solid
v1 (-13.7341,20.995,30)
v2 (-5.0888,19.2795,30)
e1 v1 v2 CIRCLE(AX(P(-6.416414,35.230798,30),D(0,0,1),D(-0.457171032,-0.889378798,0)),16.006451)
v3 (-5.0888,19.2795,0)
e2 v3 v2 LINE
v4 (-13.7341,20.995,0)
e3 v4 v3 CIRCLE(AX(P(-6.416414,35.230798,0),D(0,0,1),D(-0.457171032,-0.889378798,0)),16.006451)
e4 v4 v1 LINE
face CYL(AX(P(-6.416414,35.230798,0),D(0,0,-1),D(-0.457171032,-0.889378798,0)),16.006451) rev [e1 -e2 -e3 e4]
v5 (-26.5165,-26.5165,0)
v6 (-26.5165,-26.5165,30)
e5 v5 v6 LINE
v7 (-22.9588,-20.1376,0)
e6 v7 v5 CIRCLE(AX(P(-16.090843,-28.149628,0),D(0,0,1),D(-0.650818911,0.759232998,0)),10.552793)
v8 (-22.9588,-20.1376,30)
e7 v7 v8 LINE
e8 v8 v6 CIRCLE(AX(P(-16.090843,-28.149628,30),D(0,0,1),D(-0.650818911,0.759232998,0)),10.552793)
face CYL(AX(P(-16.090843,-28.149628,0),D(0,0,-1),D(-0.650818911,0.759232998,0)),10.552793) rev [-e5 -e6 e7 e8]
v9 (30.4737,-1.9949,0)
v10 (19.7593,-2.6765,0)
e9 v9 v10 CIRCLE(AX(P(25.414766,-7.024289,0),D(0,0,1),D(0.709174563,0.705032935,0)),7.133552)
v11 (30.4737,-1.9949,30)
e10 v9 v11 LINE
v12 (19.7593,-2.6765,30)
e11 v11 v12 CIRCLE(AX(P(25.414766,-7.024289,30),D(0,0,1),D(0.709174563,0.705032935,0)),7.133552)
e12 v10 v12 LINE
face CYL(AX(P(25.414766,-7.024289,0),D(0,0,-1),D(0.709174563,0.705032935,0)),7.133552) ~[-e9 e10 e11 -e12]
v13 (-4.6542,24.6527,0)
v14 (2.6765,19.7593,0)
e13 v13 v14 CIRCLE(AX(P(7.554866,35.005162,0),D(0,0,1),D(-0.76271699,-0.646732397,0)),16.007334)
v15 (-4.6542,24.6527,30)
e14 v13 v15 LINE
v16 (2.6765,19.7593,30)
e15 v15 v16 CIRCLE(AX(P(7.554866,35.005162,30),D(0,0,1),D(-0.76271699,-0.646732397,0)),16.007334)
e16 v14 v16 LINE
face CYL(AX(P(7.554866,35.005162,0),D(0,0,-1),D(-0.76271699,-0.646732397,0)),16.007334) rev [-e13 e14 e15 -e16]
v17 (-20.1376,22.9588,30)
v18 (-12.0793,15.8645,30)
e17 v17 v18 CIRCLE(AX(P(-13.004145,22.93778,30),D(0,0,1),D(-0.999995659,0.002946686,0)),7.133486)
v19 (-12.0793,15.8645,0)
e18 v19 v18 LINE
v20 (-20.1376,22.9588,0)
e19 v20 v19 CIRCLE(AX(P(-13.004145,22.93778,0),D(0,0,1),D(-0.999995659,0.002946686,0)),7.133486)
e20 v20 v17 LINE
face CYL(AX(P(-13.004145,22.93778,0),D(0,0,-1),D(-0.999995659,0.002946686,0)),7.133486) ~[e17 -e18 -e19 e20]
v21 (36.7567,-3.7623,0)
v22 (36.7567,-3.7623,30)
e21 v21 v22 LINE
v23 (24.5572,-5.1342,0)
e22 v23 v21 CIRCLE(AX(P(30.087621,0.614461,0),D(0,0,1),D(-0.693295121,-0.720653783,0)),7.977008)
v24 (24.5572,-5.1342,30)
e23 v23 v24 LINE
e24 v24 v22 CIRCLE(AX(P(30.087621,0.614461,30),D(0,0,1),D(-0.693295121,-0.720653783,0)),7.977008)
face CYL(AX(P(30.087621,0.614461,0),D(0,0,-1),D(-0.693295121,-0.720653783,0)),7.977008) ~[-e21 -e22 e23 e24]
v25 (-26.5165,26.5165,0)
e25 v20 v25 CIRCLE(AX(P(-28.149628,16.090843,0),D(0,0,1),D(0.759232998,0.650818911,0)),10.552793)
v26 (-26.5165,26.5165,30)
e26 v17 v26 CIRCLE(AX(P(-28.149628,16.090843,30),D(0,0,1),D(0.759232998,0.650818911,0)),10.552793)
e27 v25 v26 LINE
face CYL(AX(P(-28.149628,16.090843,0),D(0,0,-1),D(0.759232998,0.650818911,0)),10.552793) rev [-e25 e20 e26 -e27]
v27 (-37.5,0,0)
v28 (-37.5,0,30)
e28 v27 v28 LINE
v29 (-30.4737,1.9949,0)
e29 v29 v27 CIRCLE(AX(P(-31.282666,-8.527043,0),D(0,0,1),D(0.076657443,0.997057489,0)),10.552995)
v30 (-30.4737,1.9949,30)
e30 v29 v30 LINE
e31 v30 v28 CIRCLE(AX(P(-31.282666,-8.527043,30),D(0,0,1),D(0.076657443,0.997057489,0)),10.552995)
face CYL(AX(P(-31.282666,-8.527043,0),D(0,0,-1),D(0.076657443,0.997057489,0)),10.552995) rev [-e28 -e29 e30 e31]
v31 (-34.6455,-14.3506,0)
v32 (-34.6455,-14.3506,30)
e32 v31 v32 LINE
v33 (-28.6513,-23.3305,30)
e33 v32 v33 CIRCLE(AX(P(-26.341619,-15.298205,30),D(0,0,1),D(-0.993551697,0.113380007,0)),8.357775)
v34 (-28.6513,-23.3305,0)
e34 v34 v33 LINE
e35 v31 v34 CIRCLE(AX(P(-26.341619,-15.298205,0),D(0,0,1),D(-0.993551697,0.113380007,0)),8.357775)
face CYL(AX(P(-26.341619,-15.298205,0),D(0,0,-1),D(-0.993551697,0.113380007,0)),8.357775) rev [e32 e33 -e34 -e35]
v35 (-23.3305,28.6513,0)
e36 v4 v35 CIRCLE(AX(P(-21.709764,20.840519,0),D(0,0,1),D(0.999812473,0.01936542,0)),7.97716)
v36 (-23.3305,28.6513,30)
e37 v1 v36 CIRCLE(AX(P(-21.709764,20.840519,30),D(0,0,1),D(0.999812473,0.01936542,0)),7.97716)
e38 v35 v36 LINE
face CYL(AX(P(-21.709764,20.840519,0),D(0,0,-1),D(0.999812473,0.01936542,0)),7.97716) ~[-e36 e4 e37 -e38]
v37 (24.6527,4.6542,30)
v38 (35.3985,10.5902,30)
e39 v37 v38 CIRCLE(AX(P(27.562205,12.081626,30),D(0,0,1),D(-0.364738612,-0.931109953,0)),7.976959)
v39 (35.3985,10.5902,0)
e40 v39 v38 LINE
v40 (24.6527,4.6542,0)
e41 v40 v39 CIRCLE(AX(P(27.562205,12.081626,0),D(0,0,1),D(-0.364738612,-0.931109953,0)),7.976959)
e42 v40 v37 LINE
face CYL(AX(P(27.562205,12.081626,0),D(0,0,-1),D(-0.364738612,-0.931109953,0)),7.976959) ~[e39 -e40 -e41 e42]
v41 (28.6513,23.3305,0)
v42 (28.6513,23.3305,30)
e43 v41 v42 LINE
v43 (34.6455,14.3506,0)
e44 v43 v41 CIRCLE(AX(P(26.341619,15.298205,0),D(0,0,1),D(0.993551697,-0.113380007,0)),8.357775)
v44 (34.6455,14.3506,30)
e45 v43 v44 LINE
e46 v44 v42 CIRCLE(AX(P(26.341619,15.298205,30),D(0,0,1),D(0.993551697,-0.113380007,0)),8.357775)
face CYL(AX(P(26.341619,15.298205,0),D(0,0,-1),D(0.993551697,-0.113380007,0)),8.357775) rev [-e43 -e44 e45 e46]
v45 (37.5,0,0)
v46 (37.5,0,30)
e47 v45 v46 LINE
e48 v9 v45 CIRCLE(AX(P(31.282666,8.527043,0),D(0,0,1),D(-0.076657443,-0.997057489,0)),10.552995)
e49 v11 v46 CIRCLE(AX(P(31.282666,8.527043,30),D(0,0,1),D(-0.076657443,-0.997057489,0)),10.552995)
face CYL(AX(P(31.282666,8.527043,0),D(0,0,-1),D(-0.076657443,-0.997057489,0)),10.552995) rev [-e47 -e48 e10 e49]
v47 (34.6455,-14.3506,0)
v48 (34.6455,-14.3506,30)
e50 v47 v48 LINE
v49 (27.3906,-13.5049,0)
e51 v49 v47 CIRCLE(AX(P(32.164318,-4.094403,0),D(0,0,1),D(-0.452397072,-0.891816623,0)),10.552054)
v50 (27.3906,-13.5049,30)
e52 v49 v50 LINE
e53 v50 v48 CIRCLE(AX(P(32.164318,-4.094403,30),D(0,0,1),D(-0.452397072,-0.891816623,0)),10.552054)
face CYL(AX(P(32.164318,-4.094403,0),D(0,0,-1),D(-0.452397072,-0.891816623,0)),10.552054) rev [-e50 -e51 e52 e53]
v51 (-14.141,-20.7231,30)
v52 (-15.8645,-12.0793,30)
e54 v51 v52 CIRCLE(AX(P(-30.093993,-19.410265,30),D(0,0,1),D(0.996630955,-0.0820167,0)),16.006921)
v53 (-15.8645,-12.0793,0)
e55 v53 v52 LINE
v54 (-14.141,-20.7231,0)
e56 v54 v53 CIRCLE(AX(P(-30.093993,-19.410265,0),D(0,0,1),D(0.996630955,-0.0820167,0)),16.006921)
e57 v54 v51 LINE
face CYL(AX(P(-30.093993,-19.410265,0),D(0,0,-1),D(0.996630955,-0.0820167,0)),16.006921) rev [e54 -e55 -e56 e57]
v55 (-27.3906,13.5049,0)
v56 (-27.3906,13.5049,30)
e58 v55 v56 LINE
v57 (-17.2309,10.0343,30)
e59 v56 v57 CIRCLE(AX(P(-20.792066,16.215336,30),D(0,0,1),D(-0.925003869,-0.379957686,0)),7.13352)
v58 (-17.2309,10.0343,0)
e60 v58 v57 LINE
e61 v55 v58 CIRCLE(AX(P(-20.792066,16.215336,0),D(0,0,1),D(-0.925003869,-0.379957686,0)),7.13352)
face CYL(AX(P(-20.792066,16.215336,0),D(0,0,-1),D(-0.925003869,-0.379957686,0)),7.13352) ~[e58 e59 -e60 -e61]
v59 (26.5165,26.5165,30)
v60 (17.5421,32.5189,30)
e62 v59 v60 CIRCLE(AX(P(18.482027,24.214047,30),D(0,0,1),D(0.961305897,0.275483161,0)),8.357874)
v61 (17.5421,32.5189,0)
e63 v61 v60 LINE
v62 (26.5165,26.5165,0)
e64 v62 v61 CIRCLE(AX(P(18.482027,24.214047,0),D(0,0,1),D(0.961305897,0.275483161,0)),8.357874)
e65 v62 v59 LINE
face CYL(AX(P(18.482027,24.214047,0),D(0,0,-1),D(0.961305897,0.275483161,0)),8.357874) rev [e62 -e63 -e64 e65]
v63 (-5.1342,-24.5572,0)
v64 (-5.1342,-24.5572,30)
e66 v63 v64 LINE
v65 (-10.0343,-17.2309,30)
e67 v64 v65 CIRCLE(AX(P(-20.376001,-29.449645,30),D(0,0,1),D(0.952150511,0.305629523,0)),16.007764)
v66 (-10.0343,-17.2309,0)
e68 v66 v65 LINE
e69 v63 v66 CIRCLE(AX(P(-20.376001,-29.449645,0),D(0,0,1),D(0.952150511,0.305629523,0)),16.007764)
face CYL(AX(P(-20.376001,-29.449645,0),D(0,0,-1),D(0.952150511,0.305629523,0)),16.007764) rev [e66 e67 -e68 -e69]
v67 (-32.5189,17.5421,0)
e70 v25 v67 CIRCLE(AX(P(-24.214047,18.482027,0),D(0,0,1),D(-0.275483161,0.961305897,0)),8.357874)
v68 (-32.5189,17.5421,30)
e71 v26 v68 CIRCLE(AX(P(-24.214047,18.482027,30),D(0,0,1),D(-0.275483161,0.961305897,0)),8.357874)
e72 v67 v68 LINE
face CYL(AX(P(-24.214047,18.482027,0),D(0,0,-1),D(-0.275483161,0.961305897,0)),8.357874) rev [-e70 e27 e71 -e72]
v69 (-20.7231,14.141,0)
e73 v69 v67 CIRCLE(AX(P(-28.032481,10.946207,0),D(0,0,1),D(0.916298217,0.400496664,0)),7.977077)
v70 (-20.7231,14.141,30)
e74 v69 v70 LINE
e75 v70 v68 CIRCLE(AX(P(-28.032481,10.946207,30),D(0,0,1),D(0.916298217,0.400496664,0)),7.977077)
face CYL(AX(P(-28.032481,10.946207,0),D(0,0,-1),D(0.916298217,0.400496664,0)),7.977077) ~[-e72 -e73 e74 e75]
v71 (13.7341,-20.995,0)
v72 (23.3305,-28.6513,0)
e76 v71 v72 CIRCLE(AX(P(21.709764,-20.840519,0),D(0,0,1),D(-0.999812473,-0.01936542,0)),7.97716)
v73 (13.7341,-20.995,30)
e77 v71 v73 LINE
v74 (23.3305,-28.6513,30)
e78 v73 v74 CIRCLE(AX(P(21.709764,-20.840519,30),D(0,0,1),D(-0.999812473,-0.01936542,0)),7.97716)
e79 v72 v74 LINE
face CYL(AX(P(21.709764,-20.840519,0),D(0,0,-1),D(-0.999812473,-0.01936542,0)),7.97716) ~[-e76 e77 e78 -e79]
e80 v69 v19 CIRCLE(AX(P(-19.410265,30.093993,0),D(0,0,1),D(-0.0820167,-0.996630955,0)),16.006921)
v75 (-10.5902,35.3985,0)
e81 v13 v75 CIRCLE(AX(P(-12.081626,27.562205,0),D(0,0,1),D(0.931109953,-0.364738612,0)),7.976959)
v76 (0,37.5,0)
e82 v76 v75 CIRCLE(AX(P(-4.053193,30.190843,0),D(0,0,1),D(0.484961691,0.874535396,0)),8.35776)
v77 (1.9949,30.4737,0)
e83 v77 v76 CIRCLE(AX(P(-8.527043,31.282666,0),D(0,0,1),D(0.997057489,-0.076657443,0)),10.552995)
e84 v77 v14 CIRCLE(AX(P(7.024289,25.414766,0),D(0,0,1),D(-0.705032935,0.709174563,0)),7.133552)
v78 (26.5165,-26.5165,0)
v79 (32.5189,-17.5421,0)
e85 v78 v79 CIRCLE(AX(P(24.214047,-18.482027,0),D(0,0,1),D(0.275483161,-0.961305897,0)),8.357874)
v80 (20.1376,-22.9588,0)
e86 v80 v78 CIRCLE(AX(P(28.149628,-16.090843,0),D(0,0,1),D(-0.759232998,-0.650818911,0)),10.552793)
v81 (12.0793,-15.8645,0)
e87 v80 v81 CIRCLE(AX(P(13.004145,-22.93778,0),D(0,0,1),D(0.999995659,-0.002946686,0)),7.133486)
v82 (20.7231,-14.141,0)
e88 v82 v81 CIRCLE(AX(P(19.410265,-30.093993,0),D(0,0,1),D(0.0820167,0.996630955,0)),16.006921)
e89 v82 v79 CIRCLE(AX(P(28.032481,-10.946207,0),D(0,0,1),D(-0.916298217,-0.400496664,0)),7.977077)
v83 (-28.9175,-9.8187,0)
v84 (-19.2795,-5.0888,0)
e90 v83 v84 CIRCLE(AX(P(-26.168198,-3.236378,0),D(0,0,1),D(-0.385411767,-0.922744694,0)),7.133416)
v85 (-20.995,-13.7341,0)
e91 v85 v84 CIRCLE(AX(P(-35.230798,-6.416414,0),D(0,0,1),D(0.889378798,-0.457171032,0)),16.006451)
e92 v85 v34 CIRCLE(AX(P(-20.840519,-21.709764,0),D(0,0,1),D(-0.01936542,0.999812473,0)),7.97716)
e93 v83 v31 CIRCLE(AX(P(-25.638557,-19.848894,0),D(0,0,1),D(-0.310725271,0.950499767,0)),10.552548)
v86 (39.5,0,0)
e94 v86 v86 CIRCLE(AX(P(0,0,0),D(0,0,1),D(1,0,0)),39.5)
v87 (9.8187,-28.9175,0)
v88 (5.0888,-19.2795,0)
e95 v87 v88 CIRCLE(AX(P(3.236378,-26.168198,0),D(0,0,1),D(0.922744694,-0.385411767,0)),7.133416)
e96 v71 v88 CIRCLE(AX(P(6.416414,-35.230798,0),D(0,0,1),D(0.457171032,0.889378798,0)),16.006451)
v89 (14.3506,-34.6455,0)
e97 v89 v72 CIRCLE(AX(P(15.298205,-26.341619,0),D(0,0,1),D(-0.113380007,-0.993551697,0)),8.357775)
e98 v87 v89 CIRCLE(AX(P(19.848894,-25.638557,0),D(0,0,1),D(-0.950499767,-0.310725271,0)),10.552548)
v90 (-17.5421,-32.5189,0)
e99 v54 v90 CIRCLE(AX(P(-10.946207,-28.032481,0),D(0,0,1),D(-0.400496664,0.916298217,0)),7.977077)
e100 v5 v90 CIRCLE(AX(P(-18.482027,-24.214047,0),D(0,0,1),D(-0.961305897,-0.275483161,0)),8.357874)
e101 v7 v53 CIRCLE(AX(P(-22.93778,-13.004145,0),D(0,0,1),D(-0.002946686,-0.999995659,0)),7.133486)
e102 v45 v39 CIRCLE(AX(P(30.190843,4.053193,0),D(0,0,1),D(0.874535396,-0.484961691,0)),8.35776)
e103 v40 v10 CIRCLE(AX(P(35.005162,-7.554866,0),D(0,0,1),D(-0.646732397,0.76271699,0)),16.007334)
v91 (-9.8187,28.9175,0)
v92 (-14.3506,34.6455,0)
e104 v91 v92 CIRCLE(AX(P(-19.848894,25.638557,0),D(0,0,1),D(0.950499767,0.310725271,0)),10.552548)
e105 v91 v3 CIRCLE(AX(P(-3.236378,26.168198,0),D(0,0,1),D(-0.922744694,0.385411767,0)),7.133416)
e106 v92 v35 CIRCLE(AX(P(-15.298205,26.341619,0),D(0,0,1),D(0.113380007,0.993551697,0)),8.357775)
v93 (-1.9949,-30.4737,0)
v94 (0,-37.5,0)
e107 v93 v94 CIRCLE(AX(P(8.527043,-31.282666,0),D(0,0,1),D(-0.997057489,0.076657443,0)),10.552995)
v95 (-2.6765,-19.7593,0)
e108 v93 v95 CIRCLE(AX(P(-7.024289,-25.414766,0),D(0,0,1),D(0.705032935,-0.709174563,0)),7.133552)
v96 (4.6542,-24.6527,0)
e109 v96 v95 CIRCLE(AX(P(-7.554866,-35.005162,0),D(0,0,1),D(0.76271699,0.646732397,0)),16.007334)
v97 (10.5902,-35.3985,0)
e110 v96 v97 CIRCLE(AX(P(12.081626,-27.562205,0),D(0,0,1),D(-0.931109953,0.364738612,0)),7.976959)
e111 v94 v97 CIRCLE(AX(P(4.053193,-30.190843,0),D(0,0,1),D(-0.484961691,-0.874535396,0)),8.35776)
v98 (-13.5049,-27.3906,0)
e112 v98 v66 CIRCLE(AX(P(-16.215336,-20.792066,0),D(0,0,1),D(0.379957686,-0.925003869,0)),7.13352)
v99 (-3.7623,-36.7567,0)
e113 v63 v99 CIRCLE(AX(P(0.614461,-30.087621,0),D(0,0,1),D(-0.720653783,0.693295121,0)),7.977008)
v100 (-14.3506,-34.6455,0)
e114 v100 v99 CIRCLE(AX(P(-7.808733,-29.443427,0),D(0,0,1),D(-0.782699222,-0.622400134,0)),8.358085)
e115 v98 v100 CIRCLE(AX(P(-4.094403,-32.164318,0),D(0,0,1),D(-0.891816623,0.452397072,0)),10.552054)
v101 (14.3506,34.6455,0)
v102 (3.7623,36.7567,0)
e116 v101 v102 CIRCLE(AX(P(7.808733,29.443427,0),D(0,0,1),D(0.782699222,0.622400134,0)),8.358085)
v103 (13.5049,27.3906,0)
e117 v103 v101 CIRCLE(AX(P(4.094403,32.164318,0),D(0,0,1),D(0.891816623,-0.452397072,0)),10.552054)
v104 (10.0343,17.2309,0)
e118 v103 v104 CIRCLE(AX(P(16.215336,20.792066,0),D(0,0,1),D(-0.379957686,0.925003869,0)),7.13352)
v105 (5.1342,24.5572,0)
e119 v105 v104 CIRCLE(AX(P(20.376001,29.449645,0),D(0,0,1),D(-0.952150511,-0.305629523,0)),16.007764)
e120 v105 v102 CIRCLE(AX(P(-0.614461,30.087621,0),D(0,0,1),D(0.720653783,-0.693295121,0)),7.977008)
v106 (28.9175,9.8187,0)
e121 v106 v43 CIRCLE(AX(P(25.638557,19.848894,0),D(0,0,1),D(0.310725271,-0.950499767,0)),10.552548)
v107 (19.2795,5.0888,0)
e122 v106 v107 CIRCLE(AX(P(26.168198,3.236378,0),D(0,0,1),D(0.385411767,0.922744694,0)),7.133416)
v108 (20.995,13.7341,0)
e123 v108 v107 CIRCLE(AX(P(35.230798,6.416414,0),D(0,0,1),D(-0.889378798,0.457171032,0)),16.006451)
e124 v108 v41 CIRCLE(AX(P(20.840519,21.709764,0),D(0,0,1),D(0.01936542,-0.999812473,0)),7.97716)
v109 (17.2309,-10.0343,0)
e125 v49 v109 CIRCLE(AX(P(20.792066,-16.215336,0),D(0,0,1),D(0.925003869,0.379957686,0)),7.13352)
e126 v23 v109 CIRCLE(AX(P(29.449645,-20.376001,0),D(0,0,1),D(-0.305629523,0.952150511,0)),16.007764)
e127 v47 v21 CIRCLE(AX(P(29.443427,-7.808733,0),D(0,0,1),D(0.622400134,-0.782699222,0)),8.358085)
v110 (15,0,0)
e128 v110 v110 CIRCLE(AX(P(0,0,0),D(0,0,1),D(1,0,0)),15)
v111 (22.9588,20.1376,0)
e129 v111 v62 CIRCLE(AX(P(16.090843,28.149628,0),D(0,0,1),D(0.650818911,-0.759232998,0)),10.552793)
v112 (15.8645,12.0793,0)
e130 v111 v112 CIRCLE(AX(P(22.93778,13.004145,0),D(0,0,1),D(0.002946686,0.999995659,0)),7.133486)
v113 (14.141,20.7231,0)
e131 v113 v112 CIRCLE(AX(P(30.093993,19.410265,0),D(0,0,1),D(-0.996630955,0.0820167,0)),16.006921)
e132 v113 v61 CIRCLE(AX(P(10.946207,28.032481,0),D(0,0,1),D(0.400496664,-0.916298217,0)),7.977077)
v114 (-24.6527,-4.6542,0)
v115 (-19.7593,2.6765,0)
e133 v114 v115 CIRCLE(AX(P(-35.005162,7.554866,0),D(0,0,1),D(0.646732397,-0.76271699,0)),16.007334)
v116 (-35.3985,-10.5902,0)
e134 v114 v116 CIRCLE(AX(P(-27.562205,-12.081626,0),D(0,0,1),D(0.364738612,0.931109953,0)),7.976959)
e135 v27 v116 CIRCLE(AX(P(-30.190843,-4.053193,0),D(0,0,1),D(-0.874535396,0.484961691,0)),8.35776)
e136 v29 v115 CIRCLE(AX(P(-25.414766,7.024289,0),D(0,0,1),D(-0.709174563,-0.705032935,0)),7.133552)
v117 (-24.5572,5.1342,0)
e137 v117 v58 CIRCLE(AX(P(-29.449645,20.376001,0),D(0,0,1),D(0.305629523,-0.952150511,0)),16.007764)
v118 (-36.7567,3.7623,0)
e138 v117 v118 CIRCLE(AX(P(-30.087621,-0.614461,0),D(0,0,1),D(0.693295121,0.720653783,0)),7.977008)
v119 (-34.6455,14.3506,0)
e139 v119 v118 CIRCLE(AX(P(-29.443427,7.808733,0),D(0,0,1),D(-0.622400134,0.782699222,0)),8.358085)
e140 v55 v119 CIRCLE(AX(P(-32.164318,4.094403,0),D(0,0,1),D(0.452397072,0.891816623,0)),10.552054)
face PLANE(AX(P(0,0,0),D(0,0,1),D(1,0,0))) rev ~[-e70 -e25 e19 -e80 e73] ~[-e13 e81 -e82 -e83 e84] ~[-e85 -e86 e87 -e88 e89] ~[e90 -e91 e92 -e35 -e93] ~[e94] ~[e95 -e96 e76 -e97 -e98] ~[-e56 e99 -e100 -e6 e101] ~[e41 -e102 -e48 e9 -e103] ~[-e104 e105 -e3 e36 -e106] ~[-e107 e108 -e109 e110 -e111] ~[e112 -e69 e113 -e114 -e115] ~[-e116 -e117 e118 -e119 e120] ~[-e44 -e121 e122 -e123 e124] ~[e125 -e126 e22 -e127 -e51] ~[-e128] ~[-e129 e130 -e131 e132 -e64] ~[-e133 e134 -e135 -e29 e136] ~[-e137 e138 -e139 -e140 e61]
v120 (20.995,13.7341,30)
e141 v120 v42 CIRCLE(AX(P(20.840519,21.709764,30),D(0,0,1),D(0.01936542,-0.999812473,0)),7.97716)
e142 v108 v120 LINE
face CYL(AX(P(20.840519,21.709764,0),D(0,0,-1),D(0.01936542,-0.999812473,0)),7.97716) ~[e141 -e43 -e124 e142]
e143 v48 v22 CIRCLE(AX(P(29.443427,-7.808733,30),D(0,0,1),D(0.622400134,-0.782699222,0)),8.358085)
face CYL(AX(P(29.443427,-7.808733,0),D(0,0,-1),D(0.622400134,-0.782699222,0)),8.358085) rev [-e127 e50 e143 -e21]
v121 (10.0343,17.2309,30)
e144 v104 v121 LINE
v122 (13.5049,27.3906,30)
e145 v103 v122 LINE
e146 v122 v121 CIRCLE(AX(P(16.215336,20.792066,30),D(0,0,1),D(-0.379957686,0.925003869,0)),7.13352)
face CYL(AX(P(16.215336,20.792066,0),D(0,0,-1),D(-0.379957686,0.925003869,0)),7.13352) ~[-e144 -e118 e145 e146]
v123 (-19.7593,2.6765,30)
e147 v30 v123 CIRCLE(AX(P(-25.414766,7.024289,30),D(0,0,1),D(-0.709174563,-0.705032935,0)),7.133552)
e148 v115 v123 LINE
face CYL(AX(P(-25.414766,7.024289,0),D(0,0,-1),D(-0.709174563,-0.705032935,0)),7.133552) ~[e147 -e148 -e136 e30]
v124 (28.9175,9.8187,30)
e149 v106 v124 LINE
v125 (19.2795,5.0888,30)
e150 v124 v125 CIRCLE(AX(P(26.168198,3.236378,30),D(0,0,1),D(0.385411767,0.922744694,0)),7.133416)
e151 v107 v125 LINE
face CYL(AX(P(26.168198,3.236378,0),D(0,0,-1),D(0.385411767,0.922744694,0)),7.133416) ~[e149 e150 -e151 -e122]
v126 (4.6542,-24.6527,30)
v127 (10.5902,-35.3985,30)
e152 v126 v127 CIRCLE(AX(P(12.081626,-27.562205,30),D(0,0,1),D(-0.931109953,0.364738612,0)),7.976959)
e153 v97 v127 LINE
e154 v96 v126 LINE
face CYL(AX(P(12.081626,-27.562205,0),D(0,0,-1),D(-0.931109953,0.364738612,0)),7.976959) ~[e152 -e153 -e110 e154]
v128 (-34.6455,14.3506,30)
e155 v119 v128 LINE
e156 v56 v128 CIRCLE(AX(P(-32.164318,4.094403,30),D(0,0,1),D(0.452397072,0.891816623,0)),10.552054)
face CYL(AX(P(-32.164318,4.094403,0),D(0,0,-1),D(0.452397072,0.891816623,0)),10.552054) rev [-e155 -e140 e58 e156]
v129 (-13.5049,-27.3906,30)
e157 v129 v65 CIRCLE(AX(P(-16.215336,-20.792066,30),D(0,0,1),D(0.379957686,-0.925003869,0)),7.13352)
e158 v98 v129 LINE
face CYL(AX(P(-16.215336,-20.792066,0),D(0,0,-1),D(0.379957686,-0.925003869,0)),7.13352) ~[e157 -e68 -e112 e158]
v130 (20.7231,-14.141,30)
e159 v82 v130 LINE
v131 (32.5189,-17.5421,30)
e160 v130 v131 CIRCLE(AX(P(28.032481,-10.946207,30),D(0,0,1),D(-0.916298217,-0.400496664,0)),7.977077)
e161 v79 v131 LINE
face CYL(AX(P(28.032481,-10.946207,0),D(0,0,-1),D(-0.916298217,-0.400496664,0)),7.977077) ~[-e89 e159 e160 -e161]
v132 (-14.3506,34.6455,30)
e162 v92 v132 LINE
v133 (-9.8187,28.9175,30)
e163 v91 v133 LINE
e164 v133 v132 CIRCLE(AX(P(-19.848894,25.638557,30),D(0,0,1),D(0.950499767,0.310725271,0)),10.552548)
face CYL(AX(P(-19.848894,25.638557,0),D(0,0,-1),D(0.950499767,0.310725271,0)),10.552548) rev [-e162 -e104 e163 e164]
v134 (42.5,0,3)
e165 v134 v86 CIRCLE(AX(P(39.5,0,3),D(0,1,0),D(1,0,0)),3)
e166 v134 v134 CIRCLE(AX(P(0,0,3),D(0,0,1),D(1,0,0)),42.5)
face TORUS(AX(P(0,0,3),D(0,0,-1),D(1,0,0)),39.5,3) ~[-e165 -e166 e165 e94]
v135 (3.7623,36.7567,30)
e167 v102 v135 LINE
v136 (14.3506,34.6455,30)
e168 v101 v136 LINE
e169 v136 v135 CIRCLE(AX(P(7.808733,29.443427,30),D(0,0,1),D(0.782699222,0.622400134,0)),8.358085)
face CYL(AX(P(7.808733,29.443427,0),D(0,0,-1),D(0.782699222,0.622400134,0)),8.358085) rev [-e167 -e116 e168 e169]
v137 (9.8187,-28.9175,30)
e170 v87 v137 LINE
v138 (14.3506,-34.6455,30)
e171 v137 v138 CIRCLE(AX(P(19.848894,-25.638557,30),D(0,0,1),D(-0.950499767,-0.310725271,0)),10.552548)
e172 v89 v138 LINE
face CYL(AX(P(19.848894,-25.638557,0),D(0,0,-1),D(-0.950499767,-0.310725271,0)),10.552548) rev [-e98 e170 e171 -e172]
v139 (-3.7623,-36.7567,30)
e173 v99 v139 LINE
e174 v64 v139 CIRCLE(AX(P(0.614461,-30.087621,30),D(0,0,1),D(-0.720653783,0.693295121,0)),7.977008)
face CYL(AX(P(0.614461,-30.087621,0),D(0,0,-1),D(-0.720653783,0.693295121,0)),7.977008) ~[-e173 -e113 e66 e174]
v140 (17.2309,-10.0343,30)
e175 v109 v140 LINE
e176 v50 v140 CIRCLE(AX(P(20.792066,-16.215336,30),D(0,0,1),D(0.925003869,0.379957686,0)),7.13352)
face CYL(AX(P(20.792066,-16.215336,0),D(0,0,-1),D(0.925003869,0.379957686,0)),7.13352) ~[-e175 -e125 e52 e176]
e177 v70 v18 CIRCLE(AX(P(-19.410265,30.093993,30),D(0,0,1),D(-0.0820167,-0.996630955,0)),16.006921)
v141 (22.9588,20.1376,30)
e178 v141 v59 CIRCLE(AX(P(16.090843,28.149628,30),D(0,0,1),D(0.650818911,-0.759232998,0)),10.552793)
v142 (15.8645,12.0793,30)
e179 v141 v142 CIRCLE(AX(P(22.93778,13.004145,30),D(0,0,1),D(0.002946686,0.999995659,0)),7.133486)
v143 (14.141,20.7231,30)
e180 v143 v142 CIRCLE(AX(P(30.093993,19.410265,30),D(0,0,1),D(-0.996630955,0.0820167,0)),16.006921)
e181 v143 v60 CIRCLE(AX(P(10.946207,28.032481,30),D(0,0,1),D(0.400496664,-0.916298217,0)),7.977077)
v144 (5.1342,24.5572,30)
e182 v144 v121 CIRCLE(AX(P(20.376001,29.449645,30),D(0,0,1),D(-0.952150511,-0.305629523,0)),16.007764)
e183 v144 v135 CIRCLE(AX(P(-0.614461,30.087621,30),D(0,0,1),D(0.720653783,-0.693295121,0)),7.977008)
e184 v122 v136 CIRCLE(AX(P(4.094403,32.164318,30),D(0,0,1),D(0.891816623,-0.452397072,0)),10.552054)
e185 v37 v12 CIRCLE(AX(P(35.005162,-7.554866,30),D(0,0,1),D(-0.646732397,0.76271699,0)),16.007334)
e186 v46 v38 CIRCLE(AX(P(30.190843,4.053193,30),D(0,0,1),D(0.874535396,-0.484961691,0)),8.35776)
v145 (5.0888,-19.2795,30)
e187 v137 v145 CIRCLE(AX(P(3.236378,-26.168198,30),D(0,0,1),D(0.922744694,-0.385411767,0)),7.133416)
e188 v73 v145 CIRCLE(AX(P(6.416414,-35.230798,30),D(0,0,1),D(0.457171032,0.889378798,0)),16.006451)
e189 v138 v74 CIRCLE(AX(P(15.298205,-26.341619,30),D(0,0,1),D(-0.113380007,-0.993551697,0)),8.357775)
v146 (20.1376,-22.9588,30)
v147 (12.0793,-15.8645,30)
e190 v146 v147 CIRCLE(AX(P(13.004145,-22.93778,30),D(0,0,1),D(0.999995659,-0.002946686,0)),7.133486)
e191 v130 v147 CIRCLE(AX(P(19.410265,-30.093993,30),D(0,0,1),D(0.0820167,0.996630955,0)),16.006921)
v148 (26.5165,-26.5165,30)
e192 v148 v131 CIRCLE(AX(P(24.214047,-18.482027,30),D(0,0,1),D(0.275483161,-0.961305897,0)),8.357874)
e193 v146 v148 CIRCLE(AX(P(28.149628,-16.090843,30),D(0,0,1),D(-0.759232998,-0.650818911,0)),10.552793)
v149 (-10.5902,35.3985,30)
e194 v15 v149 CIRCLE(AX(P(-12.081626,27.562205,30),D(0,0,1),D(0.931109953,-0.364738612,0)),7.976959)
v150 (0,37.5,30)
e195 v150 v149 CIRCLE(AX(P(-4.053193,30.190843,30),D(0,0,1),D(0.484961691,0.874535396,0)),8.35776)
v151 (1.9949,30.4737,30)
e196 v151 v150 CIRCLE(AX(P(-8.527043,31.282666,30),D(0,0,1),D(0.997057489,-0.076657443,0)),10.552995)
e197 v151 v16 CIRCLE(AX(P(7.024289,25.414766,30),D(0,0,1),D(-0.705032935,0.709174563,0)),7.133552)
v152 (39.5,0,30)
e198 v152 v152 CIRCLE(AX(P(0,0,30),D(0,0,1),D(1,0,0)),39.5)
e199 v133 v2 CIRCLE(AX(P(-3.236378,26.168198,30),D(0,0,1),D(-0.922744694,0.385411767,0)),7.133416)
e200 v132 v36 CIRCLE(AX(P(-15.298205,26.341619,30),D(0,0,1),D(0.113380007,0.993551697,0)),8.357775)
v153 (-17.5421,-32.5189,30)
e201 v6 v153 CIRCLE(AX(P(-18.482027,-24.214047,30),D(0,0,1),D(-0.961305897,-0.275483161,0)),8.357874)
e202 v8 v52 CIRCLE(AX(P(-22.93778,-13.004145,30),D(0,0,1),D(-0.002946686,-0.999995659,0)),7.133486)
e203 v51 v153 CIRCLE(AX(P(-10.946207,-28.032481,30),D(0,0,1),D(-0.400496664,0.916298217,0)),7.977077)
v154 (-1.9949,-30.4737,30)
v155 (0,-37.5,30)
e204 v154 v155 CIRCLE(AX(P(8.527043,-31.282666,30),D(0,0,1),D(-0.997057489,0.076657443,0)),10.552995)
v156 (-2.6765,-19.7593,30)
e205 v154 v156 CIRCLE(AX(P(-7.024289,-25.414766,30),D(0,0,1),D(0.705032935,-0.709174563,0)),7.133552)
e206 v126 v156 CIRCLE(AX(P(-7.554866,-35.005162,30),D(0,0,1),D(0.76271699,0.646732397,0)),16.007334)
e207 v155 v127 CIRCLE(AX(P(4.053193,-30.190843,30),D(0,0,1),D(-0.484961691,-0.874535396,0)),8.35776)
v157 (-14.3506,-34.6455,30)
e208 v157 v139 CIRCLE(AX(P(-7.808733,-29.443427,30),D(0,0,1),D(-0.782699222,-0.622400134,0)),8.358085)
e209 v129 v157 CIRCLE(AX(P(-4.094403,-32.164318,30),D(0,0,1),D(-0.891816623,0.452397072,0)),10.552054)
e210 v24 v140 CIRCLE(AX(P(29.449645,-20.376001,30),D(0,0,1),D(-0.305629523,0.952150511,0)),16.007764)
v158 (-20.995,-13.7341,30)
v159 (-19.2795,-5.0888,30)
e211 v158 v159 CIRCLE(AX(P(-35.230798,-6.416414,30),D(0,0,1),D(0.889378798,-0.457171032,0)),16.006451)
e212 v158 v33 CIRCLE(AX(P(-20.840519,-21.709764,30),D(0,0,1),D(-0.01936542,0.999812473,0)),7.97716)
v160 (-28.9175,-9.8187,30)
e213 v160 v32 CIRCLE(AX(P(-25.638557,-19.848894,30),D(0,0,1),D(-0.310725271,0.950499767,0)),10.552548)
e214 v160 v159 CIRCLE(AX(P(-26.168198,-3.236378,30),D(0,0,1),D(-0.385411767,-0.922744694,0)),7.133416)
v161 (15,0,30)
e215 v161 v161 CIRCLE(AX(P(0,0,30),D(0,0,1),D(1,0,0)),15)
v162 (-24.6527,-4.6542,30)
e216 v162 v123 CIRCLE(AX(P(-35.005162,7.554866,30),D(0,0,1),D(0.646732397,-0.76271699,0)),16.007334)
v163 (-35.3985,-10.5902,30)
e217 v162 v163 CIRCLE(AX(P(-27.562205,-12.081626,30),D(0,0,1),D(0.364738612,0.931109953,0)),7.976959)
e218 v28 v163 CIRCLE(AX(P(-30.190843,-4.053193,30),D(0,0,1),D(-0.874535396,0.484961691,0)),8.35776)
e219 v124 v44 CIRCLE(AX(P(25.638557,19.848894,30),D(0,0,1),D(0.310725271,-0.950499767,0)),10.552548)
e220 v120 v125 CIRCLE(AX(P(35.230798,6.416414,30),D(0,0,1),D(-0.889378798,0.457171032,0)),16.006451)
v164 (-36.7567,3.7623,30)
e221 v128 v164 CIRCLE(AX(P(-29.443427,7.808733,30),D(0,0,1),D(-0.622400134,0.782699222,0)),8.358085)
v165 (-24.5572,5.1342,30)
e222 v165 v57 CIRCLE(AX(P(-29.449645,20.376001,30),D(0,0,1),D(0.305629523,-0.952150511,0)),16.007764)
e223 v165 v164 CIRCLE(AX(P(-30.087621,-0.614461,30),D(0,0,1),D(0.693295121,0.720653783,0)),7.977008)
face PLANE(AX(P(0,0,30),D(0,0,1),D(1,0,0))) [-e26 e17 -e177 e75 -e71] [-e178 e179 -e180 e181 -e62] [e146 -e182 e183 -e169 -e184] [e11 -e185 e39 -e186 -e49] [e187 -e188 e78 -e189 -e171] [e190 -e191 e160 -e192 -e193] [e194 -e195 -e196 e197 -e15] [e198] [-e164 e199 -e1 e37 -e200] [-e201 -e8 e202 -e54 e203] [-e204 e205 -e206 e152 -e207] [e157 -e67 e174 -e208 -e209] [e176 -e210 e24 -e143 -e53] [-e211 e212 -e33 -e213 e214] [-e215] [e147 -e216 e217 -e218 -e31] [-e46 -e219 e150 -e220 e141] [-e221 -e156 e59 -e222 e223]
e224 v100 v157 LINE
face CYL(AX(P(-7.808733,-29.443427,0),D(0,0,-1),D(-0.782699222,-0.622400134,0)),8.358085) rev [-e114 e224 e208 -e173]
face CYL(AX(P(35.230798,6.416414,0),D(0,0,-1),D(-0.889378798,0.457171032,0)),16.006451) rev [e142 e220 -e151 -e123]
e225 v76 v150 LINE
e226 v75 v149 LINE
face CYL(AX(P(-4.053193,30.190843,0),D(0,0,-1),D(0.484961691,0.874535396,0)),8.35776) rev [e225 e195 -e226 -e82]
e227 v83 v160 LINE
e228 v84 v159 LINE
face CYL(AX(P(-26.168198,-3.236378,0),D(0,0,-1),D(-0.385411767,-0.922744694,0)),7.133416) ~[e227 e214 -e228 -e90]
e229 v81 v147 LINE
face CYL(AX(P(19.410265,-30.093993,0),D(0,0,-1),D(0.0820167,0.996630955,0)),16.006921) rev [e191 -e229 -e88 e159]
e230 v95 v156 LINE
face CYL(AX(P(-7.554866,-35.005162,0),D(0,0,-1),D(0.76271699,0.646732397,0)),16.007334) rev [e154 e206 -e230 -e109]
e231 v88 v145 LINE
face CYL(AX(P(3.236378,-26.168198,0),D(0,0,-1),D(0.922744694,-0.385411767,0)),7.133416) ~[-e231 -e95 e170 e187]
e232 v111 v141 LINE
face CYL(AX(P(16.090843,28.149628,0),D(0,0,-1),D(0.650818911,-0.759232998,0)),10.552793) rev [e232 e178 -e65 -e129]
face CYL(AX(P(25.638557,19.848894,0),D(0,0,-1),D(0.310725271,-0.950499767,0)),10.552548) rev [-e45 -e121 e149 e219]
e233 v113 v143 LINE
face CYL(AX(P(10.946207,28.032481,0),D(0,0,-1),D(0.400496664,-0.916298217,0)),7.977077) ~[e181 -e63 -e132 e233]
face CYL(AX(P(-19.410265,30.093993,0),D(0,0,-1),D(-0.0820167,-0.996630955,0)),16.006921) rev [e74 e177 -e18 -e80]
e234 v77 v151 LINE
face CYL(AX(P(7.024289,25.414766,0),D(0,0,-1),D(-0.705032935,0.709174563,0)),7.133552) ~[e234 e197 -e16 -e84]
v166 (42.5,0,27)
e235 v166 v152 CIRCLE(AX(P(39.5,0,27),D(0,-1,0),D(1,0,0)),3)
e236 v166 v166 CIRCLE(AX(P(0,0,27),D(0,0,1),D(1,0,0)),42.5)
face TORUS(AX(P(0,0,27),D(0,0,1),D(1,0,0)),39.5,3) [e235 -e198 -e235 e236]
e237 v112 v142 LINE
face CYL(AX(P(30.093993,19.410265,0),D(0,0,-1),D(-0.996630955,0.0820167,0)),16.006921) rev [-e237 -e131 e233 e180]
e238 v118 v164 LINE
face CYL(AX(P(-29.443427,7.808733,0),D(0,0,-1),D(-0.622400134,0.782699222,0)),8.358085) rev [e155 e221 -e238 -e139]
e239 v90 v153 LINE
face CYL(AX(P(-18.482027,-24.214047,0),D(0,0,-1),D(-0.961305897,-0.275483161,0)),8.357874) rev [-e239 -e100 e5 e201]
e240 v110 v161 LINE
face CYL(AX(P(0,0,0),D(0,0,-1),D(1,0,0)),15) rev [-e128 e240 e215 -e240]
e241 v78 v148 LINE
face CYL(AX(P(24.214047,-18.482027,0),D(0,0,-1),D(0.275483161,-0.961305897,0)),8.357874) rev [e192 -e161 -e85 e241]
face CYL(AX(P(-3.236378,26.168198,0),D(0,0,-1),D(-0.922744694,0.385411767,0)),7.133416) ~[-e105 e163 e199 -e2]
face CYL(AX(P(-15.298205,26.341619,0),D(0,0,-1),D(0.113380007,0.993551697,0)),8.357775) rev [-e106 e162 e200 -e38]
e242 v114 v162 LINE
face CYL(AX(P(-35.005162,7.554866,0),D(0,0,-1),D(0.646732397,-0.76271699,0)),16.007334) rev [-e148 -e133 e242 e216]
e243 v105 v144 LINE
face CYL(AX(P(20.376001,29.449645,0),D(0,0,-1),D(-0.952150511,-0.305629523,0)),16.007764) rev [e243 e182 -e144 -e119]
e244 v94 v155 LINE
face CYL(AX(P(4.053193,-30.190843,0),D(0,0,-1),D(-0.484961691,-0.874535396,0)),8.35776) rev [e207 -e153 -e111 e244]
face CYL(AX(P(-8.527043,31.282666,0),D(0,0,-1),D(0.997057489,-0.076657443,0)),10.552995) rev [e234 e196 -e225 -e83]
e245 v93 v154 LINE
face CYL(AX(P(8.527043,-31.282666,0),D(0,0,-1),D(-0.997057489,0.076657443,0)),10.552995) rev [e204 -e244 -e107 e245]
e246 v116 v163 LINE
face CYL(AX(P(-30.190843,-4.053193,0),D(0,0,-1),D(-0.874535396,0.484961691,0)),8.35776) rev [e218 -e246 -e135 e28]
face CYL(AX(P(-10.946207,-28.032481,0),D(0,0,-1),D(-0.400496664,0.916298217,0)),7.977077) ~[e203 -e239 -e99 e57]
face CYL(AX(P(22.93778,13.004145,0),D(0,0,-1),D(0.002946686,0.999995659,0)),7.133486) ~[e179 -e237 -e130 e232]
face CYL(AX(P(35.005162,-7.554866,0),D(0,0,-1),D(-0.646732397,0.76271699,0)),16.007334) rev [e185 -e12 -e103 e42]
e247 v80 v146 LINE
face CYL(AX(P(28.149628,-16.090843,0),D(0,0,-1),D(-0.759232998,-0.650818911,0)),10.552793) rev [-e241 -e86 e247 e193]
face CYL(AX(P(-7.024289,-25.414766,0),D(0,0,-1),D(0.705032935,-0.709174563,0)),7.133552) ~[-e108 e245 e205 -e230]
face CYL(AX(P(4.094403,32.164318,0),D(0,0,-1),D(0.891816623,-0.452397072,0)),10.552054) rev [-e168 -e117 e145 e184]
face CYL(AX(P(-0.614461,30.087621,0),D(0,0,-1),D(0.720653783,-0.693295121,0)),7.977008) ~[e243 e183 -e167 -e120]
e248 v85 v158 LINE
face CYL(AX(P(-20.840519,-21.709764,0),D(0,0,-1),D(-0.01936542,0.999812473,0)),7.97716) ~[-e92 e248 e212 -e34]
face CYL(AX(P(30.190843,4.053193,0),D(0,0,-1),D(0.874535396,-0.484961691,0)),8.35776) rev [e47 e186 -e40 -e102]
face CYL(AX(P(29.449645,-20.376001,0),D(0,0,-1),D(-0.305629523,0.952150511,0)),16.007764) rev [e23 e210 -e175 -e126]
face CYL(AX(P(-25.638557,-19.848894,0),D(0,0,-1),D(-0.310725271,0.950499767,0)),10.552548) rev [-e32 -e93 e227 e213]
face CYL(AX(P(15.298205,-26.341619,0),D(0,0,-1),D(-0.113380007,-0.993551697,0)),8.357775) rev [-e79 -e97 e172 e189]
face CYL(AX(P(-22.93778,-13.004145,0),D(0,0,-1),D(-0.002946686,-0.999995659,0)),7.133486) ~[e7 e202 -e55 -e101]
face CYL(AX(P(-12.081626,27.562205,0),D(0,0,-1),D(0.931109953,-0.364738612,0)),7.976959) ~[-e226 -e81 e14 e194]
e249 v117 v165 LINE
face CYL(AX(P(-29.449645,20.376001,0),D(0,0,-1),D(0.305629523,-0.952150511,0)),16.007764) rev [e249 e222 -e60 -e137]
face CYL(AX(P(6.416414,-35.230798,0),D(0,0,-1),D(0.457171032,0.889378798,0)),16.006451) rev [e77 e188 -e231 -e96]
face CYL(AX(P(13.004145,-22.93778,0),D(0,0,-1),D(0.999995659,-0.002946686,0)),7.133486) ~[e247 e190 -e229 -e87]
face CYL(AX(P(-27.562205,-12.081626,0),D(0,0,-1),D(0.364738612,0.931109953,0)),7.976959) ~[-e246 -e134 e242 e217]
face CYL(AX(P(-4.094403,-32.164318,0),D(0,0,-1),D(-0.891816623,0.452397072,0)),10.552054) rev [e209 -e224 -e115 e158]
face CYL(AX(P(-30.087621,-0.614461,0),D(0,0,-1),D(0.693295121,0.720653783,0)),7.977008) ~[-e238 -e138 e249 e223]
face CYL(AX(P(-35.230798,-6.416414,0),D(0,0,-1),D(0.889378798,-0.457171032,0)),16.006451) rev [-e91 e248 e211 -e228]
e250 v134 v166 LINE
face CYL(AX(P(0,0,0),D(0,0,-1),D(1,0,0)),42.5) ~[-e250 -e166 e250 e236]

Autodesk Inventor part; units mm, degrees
ref_plane "YZ Plane" through (0, 0, 0) normal (1, 0, 0) x (0, 1, 0)
ref_plane "XZ Plane" through (0, 0, 0) normal (0, 1, 0) x (-1, 0, 0)
ref_plane "XY Plane" through (0, 0, 0) normal (0, 0, 1) x (1, 0, 0)
sketch "Sketch1" plane through (0, 0, 0) normal (0, 0, 1) x (1, 0, 0)
  circle A0 centre (0, 0) radius 15
  circle A1 centre (0, 0) radius 42.5
  line L0 (2.6765, 14.7593) -> (2.6765, 19.7593) construction
  line L1 (0, 42.5) -> (0, 37.5) construction
  arc A2 (-4.6542, 24.6527) -> (2.6765, 19.7593) centre (7.5549, 35.0052) ccw
  arc A3 (-4.6542, 24.6527) -> (-10.5902, 35.3985) centre (-12.0817, 27.5622) ccw
  arc A4 (0, 37.5) -> (-10.5902, 35.3985) centre (-4.0532, 30.1908) ccw
  arc A5 (1.9949, 30.4737) -> (0, 37.5) centre (-8.5267, 31.2827) ccw
  arc A6 (1.9949, 30.4737) -> (2.6765, 19.7593) centre (7.0242, 25.4148) ccw
  arc A7 (-14.3506, 34.6455) -> (-23.3305, 28.6513) centre (-15.2982, 26.3416) ccw
  arc A8 (-13.7341, 20.995) -> (-23.3305, 28.6513) centre (-21.7096, 20.8406) ccw
  arc A9 (-9.8187, 28.9175) -> (-14.3506, 34.6455) centre (-19.849, 25.6385) ccw
  arc A10 (-9.8187, 28.9175) -> (-5.0888, 19.2795) centre (-3.2363, 26.1682) ccw
  arc A11 (-13.7341, 20.995) -> (-5.0888, 19.2795) centre (-6.4161, 35.2317) ccw
  arc A12 (-26.5165, 26.5165) -> (-32.5189, 17.5421) centre (-24.2141, 18.4821) ccw
  arc A13 (-20.7231, 14.141) -> (-32.5189, 17.5421) centre (-28.0324, 10.9463) ccw
  arc A14 (-20.1376, 22.9588) -> (-26.5165, 26.5165) centre (-28.1495, 16.091) ccw
  arc A15 (-20.1376, 22.9588) -> (-12.0793, 15.8645) centre (-13.0041, 22.9378) ccw
  arc A16 (-20.7231, 14.141) -> (-12.0793, 15.8645) centre (-19.4103, 30.0946) ccw
  arc A17 (-34.6455, 14.3506) -> (-36.7567, 3.7623) centre (-29.4437, 7.8089) ccw
  arc A18 (-24.5572, 5.1342) -> (-36.7567, 3.7623) centre (-30.0876, -0.6144) ccw
  arc A19 (-27.3906, 13.5049) -> (-34.6455, 14.3506) centre (-32.1645, 4.0938) ccw
  arc A20 (-27.3906, 13.5049) -> (-17.2309, 10.0343) centre (-20.7921, 16.2153) ccw
  arc A21 (-24.5572, 5.1342) -> (-17.2309, 10.0343) centre (-29.4495, 20.3757) ccw
  arc A22 (-37.5, 0) -> (-35.3985, -10.5902) centre (-30.1908, -4.0532) ccw
  arc A23 (-24.6527, -4.6542) -> (-35.3985, -10.5902) centre (-27.5622, -12.0817) ccw
  arc A24 (-30.4737, 1.9949) -> (-37.5, 0) centre (-31.2827, -8.5267) ccw
  arc A25 (-30.4737, 1.9949) -> (-19.7593, 2.6765) centre (-25.4148, 7.0242) ccw
  arc A26 (-24.6527, -4.6542) -> (-19.7593, 2.6765) centre (-35.0052, 7.5549) ccw
  arc A27 (-34.6455, -14.3506) -> (-28.6513, -23.3305) centre (-26.3416, -15.2982) ccw
  arc A28 (-20.995, -13.7341) -> (-28.6513, -23.3305) centre (-20.8406, -21.7096) ccw
  arc A29 (-28.9175, -9.8187) -> (-34.6455, -14.3506) centre (-25.6385, -19.849) ccw
  arc A30 (-28.9175, -9.8187) -> (-19.2795, -5.0888) centre (-26.1682, -3.2363) ccw
  arc A31 (-20.995, -13.7341) -> (-19.2795, -5.0888) centre (-35.2317, -6.4161) ccw
  arc A32 (-26.5165, -26.5165) -> (-17.5421, -32.5189) centre (-18.4821, -24.2141) ccw
  arc A33 (-14.141, -20.7231) -> (-17.5421, -32.5189) centre (-10.9463, -28.0324) ccw
  arc A34 (-22.9588, -20.1376) -> (-26.5165, -26.5165) centre (-16.091, -28.1495) ccw
  arc A35 (-22.9588, -20.1376) -> (-15.8645, -12.0793) centre (-22.9378, -13.0041) ccw
  arc A36 (-14.141, -20.7231) -> (-15.8645, -12.0793) centre (-30.0946, -19.4103) ccw
  arc A37 (-14.3506, -34.6455) -> (-3.7623, -36.7567) centre (-7.8089, -29.4437) ccw
  arc A38 (-5.1342, -24.5572) -> (-3.7623, -36.7567) centre (0.6144, -30.0876) ccw
  arc A39 (-13.5049, -27.3906) -> (-14.3506, -34.6455) centre (-4.0938, -32.1645) ccw
  arc A40 (-13.5049, -27.3906) -> (-10.0343, -17.2309) centre (-16.2153, -20.7921) ccw
  arc A41 (-5.1342, -24.5572) -> (-10.0343, -17.2309) centre (-20.3757, -29.4495) ccw
  arc A42 (0, -37.5) -> (10.5902, -35.3985) centre (4.0532, -30.1908) ccw
  arc A43 (4.6542, -24.6527) -> (10.5902, -35.3985) centre (12.0817, -27.5622) ccw
  arc A44 (-1.9949, -30.4737) -> (0, -37.5) centre (8.5267, -31.2827) ccw
  arc A45 (-1.9949, -30.4737) -> (-2.6765, -19.7593) centre (-7.0242, -25.4148) ccw
  arc A46 (4.6542, -24.6527) -> (-2.6765, -19.7593) centre (-7.5549, -35.0052) ccw
  arc A47 (14.3506, -34.6455) -> (23.3305, -28.6513) centre (15.2982, -26.3416) ccw
  arc A48 (13.7341, -20.995) -> (23.3305, -28.6513) centre (21.7096, -20.8406) ccw
  arc A49 (9.8187, -28.9175) -> (14.3506, -34.6455) centre (19.849, -25.6385) ccw
  arc A50 (9.8187, -28.9175) -> (5.0888, -19.2795) centre (3.2363, -26.1682) ccw
  arc A51 (13.7341, -20.995) -> (5.0888, -19.2795) centre (6.4161, -35.2317) ccw
  arc A52 (26.5165, -26.5165) -> (32.5189, -17.5421) centre (24.2141, -18.4821) ccw
  arc A53 (20.7231, -14.141) -> (32.5189, -17.5421) centre (28.0324, -10.9463) ccw
  arc A54 (20.1376, -22.9588) -> (26.5165, -26.5165) centre (28.1495, -16.091) ccw
  arc A55 (20.1376, -22.9588) -> (12.0793, -15.8645) centre (13.0041, -22.9378) ccw
  arc A56 (20.7231, -14.141) -> (12.0793, -15.8645) centre (19.4103, -30.0946) ccw
  arc A57 (34.6455, -14.3506) -> (36.7567, -3.7623) centre (29.4437, -7.8089) ccw
  arc A58 (24.5572, -5.1342) -> (36.7567, -3.7623) centre (30.0876, 0.6144) ccw
  arc A59 (27.3906, -13.5049) -> (34.6455, -14.3506) centre (32.1645, -4.0938) ccw
  arc A60 (27.3906, -13.5049) -> (17.2309, -10.0343) centre (20.7921, -16.2153) ccw
  arc A61 (24.5572, -5.1342) -> (17.2309, -10.0343) centre (29.4495, -20.3757) ccw
  arc A62 (37.5, 0) -> (35.3985, 10.5902) centre (30.1908, 4.0532) ccw
  arc A63 (24.6527, 4.6542) -> (35.3985, 10.5902) centre (27.5622, 12.0817) ccw
  arc A64 (30.4737, -1.9949) -> (37.5, 0) centre (31.2827, 8.5267) ccw
  arc A65 (30.4737, -1.9949) -> (19.7593, -2.6765) centre (25.4148, -7.0242) ccw
  arc A66 (24.6527, 4.6542) -> (19.7593, -2.6765) centre (35.0052, -7.5549) ccw
  arc A67 (34.6455, 14.3506) -> (28.6513, 23.3305) centre (26.3416, 15.2982) ccw
  arc A68 (20.995, 13.7341) -> (28.6513, 23.3305) centre (20.8406, 21.7096) ccw
  arc A69 (28.9175, 9.8187) -> (34.6455, 14.3506) centre (25.6385, 19.849) ccw
  arc A70 (28.9175, 9.8187) -> (19.2795, 5.0888) centre (26.1682, 3.2363) ccw
  arc A71 (20.995, 13.7341) -> (19.2795, 5.0888) centre (35.2317, 6.4161) ccw
  arc A72 (26.5165, 26.5165) -> (17.5421, 32.5189) centre (18.4821, 24.2141) ccw
  arc A73 (14.141, 20.7231) -> (17.5421, 32.5189) centre (10.9463, 28.0324) ccw
  arc A74 (22.9588, 20.1376) -> (26.5165, 26.5165) centre (16.091, 28.1495) ccw
  arc A75 (22.9588, 20.1376) -> (15.8645, 12.0793) centre (22.9378, 13.0041) ccw
  arc A76 (14.141, 20.7231) -> (15.8645, 12.0793) centre (30.0946, 19.4103) ccw
  arc A77 (14.3506, 34.6455) -> (3.7623, 36.7567) centre (7.8089, 29.4437) ccw
  arc A78 (5.1342, 24.5572) -> (3.7623, 36.7567) centre (-0.6144, 30.0876) ccw
  arc A79 (13.5049, 27.3906) -> (14.3506, 34.6455) centre (4.0938, 32.1645) ccw
  arc A80 (13.5049, 27.3906) -> (10.0343, 17.2309) centre (16.2153, 20.7921) ccw
  arc A81 (5.1342, 24.5572) -> (10.0343, 17.2309) centre (20.3757, 29.4495) ccw
  dimension "d0" = 30
  dimension "d1" = 85
  dimension "d2" = 5
  dimension "d3" = 5
  dimension "d6" = 360
extrude "Extrusion1" add sketch "Sketch1" along normal blind 30
fillet "Fillet1" radius 3 2 edges at (-42.5, 0, 0) (-42.5, 0, 30)
properties part number "Idea1"
